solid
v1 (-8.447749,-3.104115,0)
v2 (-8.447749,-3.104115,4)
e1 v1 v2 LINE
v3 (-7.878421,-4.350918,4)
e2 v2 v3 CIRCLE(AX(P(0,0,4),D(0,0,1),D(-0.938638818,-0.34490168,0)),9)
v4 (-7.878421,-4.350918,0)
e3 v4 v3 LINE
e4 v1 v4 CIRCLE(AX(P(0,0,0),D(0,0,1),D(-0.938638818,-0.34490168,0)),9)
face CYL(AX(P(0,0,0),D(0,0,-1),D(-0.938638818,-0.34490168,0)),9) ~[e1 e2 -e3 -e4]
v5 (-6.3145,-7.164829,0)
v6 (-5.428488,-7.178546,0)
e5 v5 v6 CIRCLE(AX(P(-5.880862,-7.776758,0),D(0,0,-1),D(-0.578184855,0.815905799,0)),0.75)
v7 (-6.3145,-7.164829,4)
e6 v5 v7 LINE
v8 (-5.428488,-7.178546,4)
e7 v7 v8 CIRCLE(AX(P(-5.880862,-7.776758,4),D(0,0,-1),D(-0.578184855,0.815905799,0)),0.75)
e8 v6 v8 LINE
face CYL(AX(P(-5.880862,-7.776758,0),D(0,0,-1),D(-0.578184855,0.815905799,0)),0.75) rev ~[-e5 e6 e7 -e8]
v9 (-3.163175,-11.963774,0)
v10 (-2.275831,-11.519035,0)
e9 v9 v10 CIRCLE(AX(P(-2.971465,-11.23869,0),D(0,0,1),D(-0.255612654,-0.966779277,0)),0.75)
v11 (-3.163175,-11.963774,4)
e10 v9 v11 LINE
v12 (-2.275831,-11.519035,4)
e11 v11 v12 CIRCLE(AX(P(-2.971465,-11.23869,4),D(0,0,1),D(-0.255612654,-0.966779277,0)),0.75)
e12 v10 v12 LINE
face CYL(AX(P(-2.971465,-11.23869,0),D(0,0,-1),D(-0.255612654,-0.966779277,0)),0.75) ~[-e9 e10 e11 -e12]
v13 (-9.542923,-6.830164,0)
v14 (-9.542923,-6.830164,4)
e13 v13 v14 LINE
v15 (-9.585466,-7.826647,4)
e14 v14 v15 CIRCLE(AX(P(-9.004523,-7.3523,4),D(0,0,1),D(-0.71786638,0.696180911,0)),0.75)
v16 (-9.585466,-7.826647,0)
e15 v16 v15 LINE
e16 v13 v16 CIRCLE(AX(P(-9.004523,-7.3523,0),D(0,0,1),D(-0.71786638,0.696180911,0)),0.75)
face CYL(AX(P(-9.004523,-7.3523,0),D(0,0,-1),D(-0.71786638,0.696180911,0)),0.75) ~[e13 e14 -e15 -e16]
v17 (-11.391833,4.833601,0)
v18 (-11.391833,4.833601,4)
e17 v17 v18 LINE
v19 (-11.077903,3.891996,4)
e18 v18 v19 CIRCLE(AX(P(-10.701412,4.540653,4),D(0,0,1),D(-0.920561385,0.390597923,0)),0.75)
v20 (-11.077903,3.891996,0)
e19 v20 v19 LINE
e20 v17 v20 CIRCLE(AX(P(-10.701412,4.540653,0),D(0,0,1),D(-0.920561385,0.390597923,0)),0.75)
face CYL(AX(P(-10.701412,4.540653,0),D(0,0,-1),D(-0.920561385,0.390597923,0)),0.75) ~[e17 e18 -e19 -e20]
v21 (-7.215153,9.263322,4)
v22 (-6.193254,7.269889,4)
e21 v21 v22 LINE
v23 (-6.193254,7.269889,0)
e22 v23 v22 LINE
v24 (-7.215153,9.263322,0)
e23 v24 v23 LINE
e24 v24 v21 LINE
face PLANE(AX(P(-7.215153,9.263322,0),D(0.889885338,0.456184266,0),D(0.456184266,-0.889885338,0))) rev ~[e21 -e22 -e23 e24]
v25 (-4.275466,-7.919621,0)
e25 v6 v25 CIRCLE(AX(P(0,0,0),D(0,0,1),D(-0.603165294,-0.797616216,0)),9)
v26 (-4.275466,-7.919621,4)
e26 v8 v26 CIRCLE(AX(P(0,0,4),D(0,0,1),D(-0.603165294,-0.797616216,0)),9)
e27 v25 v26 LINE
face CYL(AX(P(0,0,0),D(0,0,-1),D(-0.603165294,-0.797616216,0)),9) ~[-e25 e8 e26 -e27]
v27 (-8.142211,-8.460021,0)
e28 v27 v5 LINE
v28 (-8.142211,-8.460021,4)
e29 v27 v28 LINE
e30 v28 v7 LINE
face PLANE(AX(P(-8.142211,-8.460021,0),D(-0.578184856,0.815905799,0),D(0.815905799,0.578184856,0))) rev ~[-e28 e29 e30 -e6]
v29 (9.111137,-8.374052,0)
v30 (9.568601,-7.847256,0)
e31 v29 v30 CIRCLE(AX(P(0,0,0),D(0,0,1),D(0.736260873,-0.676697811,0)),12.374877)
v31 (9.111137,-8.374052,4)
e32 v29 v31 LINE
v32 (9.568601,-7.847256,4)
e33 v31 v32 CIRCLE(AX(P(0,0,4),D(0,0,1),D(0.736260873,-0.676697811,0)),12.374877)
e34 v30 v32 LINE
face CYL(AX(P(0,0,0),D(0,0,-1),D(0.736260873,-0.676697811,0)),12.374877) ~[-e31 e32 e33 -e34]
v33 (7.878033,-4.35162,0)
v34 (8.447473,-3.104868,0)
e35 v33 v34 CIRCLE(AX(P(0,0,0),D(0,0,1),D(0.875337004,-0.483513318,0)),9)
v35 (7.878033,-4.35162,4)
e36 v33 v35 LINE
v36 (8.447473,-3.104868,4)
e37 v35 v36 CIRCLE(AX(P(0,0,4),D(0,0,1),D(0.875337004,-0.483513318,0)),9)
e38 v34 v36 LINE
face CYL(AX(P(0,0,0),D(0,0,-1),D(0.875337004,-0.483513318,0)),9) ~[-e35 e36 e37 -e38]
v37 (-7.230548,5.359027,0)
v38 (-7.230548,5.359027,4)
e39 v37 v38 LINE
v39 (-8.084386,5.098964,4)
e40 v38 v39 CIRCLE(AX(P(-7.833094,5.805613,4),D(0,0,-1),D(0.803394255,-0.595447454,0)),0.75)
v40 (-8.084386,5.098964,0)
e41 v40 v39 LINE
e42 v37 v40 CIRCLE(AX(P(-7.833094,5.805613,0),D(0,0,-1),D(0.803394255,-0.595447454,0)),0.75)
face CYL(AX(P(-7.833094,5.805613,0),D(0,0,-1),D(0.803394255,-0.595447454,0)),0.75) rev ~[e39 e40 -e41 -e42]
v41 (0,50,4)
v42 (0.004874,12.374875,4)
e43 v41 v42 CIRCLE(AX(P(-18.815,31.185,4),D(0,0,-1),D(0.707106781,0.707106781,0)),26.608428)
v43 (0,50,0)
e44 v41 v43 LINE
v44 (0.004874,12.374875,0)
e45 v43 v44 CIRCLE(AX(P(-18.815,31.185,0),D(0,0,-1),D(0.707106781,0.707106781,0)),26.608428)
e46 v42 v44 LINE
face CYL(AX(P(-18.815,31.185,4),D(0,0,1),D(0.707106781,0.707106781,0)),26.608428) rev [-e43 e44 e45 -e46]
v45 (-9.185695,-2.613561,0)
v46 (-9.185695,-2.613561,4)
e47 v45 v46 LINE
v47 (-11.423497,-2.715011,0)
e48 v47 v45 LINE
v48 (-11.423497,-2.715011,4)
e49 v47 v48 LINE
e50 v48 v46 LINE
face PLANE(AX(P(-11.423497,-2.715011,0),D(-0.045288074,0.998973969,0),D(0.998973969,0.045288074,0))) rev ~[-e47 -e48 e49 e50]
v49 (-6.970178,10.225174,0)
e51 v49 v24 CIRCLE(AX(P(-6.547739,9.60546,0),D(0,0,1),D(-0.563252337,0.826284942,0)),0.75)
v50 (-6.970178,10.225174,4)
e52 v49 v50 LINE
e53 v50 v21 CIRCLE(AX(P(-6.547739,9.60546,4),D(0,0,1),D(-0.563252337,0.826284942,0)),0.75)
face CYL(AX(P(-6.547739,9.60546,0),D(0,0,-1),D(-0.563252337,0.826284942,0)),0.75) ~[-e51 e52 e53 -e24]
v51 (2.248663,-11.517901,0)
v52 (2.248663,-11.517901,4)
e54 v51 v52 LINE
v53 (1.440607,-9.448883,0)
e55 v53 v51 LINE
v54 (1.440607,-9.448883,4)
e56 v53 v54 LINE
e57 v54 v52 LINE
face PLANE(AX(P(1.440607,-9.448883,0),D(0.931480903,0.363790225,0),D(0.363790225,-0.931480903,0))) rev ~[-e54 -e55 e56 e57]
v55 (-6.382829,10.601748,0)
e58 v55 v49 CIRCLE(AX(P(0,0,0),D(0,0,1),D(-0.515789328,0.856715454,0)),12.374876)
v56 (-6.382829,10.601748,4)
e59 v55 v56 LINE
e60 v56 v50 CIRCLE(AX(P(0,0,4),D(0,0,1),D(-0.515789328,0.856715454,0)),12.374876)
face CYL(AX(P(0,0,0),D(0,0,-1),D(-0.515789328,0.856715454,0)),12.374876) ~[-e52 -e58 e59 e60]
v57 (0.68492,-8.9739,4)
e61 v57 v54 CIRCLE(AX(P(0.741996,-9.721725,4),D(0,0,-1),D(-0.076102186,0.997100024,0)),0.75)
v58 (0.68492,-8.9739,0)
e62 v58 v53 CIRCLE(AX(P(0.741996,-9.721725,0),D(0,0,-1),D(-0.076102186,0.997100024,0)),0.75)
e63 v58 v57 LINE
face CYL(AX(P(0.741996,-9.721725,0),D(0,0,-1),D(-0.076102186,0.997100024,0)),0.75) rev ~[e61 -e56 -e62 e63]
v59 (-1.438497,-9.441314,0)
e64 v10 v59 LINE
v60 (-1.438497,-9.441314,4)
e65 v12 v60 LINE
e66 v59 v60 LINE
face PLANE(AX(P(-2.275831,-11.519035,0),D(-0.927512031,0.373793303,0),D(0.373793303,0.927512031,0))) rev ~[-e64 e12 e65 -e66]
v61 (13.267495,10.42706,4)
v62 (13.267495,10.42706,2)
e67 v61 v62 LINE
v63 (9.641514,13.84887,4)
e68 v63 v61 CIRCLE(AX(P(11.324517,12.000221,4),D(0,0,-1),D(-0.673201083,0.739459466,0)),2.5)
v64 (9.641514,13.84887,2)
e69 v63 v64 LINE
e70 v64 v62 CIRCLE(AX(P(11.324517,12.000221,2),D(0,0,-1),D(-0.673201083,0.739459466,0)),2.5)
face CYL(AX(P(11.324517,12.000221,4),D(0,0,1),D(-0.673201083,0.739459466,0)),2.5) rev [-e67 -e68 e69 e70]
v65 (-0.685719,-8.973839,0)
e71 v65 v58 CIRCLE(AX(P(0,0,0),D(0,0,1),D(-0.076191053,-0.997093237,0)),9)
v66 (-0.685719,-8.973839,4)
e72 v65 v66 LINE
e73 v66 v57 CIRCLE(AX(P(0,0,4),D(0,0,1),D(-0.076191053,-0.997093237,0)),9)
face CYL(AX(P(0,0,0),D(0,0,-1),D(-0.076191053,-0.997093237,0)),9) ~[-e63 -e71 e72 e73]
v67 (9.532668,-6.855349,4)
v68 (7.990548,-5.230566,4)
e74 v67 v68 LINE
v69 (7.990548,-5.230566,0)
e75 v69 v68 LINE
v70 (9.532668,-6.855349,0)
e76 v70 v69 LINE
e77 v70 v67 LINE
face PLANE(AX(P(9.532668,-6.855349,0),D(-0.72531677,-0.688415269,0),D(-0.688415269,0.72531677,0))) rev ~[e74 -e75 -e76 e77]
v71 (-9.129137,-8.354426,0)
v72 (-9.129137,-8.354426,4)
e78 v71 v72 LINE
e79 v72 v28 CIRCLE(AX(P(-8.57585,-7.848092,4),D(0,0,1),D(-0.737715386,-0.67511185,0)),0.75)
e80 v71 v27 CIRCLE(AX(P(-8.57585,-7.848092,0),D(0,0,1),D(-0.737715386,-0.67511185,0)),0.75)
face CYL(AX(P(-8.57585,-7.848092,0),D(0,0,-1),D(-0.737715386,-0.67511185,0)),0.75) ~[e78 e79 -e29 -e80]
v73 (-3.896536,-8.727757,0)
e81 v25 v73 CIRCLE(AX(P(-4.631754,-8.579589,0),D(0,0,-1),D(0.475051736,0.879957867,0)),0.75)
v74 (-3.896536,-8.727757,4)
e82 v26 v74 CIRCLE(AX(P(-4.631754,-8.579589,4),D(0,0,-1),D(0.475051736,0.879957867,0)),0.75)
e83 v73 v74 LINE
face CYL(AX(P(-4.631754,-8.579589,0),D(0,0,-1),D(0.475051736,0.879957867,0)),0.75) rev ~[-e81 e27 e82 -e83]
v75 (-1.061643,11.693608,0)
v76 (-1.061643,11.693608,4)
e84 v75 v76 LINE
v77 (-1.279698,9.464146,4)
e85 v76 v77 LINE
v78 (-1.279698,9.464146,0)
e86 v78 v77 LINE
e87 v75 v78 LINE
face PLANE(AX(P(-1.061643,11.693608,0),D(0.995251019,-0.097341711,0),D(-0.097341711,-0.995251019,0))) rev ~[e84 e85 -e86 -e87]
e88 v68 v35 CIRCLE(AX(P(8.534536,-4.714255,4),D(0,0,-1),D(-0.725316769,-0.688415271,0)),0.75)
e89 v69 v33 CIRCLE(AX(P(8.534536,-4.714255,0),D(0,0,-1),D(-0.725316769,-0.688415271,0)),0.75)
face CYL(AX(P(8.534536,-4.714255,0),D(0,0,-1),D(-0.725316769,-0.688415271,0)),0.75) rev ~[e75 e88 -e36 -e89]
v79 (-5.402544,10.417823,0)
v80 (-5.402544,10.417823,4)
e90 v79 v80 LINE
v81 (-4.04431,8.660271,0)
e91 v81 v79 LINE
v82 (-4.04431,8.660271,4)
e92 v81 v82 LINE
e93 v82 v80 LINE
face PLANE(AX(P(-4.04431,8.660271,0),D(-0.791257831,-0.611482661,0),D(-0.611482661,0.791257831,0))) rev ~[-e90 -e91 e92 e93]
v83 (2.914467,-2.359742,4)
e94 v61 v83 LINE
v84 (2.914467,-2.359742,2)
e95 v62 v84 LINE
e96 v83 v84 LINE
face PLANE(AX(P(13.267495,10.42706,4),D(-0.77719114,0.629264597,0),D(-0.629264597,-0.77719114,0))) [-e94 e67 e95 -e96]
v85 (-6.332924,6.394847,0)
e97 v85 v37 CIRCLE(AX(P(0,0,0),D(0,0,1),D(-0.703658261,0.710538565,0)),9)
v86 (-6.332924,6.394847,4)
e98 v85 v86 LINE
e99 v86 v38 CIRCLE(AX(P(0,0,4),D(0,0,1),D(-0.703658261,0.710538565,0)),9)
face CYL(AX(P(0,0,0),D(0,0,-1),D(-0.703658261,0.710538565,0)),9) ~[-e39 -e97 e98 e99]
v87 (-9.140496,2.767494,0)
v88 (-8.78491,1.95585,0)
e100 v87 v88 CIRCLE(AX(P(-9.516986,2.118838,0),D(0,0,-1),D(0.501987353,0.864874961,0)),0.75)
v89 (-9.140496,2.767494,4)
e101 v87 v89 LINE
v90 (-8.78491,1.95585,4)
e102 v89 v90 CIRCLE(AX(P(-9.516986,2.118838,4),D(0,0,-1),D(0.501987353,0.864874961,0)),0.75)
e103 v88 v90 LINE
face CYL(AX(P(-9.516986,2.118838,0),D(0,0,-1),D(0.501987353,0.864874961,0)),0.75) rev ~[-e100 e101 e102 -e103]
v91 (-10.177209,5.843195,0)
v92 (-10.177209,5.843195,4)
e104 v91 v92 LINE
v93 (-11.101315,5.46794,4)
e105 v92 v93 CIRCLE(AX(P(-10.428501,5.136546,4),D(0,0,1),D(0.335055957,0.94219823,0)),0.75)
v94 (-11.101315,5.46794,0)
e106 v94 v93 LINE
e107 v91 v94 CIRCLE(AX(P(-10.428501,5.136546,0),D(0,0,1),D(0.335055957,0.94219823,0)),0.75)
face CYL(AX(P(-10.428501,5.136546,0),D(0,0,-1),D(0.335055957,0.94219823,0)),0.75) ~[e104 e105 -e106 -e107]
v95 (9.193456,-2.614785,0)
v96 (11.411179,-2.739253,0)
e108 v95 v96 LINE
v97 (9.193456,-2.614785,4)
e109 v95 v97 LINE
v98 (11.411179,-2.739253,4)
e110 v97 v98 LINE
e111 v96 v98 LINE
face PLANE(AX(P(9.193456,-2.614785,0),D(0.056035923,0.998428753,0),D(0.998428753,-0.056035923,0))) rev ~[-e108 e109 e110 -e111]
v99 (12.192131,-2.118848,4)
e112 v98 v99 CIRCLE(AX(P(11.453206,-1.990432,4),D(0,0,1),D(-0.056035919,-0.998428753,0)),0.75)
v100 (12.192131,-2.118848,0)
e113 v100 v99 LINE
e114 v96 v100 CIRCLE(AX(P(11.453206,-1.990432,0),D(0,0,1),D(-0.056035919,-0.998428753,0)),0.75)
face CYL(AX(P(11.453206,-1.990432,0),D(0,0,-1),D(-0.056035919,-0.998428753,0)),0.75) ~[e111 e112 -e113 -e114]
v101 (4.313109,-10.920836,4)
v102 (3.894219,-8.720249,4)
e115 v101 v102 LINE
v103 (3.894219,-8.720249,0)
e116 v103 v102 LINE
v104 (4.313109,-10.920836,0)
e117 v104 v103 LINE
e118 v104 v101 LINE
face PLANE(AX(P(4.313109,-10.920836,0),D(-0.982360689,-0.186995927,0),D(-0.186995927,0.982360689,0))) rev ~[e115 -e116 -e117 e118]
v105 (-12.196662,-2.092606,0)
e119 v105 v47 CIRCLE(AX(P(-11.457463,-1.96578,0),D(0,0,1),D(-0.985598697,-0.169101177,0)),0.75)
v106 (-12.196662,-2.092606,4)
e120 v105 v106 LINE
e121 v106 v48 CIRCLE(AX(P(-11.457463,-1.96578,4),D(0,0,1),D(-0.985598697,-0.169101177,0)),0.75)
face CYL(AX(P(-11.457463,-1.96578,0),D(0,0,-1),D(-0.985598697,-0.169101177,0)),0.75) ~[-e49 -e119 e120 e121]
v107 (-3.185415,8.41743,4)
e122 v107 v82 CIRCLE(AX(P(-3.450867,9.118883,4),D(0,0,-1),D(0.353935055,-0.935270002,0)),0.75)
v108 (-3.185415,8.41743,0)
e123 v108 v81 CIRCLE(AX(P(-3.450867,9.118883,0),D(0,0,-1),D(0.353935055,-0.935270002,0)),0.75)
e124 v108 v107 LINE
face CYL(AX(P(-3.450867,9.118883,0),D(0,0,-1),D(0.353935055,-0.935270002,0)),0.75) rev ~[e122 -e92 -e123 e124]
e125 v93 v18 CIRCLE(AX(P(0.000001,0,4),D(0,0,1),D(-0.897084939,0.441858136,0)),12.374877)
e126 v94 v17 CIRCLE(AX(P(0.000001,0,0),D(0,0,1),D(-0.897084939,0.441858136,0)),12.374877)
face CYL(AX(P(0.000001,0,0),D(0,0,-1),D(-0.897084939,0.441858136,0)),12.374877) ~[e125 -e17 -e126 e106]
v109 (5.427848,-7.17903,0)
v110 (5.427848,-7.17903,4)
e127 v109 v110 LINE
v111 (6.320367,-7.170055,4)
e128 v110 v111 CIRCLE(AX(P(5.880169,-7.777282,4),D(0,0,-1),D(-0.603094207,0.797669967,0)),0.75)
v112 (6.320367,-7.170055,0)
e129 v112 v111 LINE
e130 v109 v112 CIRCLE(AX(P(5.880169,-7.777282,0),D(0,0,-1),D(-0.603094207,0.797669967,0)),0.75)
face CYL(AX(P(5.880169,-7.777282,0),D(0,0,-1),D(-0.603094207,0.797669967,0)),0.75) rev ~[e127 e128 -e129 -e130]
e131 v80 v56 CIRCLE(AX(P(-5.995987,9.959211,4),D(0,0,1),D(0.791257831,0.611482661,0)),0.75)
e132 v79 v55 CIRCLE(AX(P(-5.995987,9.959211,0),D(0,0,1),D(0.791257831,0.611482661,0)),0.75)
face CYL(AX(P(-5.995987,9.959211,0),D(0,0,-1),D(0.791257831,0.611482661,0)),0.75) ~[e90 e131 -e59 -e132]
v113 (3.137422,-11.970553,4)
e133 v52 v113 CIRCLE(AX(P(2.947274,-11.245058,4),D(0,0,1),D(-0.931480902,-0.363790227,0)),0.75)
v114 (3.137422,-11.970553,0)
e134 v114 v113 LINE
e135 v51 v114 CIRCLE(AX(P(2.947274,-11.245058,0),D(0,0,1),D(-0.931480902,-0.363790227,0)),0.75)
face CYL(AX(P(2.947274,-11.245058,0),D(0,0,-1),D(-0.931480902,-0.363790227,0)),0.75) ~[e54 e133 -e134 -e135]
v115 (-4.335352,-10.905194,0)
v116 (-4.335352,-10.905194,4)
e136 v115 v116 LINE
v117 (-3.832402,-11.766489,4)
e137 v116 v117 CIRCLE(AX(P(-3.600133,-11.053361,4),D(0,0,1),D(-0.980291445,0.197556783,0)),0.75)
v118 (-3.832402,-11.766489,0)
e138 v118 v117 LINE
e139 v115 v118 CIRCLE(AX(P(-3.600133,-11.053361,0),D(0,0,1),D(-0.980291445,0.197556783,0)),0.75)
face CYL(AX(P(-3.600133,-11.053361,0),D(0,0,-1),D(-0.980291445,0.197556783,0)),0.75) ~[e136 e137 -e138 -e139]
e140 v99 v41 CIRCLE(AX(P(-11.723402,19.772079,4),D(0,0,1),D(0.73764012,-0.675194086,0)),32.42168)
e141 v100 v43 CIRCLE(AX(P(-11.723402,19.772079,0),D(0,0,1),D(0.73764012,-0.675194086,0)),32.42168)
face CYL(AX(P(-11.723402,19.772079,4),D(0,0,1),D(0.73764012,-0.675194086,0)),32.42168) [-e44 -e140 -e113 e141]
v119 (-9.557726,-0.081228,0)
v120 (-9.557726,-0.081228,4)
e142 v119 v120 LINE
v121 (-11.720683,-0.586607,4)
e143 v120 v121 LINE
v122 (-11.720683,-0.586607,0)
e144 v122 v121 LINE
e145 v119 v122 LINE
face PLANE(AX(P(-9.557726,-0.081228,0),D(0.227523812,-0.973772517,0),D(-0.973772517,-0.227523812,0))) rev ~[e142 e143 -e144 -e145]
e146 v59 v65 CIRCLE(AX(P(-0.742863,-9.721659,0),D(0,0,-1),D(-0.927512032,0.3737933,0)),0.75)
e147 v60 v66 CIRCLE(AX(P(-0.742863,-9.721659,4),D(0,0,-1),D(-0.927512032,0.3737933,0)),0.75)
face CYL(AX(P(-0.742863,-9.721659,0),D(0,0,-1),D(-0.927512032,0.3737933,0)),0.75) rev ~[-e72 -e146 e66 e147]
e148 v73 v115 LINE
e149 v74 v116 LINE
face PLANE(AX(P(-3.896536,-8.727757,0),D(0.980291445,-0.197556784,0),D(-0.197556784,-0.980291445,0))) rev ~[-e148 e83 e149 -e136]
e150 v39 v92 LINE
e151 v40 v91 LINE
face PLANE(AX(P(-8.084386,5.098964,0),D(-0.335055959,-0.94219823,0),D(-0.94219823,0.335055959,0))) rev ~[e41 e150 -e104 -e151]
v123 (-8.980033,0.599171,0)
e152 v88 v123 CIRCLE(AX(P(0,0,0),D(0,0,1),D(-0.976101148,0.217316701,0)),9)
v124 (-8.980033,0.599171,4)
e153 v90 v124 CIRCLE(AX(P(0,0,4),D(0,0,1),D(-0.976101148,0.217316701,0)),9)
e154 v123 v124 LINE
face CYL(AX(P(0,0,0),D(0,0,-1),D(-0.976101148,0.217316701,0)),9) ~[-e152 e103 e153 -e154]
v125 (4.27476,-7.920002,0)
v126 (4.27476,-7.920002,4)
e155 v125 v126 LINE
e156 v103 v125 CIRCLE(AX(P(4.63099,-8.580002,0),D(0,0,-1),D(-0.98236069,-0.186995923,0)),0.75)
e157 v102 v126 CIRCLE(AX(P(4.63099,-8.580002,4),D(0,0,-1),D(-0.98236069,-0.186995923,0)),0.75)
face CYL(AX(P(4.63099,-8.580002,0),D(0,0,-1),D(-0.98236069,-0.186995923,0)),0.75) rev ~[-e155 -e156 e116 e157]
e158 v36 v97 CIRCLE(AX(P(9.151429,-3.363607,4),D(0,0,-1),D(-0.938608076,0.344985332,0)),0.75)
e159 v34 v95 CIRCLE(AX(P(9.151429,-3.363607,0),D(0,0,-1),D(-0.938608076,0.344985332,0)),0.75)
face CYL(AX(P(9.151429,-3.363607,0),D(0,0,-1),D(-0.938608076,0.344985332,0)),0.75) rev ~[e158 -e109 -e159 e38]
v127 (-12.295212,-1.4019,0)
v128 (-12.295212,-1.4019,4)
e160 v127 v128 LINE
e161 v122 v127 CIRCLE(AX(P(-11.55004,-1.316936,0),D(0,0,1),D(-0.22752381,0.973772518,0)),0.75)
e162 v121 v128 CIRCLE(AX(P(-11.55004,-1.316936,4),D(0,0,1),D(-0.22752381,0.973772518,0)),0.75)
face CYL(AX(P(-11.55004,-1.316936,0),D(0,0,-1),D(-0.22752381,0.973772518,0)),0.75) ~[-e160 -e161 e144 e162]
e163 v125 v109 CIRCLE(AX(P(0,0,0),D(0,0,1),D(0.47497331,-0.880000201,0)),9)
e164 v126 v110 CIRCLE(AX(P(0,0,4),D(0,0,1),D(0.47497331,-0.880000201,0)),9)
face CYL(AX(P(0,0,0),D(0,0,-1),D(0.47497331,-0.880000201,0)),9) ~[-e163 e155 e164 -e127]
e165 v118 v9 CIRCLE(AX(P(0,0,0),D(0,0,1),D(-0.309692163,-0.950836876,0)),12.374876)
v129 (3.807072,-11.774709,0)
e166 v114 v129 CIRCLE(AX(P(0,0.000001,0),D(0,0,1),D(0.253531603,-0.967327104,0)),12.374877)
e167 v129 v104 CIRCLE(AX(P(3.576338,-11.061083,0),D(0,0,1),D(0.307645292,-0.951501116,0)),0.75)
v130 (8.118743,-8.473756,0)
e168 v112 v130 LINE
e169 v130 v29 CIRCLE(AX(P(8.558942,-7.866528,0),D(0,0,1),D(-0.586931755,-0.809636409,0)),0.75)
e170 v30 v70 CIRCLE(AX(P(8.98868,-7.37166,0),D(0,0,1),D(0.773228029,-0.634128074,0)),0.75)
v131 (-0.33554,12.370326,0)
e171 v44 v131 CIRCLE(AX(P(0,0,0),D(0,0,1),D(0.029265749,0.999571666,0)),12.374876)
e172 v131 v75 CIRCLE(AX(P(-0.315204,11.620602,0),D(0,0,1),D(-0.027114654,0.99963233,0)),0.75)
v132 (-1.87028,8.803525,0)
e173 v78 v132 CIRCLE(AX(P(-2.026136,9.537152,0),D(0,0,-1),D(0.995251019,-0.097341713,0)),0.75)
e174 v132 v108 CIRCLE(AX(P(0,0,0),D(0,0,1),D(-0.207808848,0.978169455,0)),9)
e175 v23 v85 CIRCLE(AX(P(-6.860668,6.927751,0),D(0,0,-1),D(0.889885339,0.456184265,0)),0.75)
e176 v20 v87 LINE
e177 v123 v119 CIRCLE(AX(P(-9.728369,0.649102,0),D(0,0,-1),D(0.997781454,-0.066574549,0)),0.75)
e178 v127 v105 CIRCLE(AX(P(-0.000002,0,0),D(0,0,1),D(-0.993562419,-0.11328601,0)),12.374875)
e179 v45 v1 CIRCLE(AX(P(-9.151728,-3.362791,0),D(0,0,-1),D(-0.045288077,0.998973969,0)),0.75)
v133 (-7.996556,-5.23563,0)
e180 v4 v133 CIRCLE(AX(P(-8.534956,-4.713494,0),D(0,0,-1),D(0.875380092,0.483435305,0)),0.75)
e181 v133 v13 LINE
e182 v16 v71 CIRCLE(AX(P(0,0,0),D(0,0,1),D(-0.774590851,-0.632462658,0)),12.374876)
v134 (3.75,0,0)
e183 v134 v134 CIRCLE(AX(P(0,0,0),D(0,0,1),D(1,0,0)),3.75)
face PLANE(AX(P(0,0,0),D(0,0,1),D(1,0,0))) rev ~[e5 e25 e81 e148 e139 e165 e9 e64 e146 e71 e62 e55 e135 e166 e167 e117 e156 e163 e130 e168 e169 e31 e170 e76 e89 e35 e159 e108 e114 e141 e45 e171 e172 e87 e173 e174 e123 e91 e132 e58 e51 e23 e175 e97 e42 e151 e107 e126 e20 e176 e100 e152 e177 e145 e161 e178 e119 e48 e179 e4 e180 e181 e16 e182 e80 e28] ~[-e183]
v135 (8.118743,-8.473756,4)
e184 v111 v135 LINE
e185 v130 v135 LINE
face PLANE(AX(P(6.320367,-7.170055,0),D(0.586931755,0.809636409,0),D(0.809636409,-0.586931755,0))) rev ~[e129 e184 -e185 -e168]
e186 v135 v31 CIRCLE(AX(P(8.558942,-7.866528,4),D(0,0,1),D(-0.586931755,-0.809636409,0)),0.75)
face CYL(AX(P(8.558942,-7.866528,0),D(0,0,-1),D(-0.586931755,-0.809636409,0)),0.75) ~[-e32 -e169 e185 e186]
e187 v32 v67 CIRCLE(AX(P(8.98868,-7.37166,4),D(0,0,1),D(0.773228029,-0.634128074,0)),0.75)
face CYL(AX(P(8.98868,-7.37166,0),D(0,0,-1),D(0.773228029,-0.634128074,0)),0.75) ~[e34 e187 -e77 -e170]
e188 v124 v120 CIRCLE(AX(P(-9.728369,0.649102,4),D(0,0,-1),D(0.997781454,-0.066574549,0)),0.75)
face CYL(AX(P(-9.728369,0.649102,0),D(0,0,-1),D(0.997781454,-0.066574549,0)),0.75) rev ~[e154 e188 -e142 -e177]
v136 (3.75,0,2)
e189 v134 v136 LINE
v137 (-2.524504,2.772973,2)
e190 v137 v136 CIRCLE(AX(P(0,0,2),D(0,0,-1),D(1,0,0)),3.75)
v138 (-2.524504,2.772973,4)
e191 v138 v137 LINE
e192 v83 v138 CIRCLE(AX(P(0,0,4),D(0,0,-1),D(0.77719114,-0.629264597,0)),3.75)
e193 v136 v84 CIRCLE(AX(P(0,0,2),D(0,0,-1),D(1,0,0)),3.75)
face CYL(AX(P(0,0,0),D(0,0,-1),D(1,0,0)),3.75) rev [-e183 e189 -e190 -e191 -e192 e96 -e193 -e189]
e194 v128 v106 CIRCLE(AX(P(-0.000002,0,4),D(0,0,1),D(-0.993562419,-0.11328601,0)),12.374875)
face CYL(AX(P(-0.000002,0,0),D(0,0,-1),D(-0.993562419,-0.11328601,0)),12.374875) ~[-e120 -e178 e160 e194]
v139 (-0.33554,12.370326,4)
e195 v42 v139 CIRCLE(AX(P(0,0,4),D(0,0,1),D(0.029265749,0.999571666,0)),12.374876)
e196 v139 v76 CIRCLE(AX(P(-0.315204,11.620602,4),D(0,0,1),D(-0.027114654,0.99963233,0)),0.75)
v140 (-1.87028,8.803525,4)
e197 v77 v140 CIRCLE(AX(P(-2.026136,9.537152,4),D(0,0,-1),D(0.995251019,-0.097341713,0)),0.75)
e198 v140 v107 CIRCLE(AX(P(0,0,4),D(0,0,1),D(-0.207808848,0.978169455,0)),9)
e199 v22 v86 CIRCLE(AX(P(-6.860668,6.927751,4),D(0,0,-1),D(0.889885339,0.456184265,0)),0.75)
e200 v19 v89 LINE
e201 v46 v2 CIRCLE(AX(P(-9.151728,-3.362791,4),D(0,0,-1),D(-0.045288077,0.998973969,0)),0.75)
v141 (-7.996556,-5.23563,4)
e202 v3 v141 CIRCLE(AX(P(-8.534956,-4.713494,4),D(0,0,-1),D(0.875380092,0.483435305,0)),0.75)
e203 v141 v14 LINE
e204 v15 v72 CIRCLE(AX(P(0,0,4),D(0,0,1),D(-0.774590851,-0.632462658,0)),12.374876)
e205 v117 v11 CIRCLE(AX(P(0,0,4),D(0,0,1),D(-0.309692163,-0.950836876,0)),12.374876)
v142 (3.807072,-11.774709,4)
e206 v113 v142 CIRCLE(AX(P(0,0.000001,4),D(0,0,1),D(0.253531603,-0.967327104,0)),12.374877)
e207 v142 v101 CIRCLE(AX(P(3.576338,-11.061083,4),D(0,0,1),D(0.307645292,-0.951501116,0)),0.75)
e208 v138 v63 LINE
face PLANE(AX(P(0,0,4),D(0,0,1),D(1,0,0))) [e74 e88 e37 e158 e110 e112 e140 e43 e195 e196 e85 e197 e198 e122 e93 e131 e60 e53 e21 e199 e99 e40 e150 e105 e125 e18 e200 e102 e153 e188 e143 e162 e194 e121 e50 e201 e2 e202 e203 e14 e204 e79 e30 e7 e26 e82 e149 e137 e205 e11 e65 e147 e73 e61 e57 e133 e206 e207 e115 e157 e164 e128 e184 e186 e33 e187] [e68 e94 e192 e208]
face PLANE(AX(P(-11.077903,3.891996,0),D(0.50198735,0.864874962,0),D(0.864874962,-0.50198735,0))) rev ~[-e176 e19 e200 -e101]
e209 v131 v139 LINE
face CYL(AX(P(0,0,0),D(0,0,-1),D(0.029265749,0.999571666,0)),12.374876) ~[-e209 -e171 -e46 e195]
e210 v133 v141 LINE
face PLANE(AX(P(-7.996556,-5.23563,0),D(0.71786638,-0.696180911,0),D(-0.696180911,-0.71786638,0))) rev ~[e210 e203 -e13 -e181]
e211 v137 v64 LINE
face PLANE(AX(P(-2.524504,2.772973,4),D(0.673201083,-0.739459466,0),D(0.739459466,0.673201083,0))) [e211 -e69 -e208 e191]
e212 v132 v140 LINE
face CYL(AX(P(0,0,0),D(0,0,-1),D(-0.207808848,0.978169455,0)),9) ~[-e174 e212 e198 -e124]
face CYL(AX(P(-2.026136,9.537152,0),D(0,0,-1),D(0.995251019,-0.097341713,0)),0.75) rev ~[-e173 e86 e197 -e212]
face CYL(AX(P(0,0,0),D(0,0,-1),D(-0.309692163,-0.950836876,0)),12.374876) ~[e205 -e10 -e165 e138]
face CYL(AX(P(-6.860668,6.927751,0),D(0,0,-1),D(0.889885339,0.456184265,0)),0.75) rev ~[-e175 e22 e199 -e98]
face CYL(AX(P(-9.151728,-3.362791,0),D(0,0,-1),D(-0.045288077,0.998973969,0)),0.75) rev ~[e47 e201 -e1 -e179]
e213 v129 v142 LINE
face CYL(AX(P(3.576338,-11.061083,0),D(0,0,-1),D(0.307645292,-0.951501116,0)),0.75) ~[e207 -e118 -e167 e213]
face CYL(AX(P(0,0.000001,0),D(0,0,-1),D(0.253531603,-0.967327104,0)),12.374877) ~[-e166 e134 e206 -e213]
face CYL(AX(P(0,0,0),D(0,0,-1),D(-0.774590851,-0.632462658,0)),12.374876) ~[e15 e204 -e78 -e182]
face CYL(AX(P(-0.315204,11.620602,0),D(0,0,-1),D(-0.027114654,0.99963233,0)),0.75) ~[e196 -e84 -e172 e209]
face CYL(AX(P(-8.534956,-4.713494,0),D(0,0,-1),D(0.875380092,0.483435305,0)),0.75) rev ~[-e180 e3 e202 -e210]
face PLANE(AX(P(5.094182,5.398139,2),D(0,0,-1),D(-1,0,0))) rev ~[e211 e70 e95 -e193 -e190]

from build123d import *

# Parameters (mm, degrees)
ESBO_O1_R                = 3.75
RESSALTO_EXTRUS_O1_DEPTH = 4
RESSALTO_EXTRUS_O2_START = -4
RESSALTO_EXTRUS_O2_DEPTH = 4
CORTE_EXTRUS_O1_START    = -2
CORTE_EXTRUS_O1_DEPTH    = 2


with BuildPart() as part:
    # Esboço1 → Ressalto-extrusão1 (new body)
    with BuildSketch(Plane.XY):
        with BuildLine():
            Line((5.428931338, 10.411256864), (4.040153116, 8.653603149))
            ThreePointArc((4.040153116, 8.653603149), (3.651813796, 8.395770502), (3.186165661, 8.417146095))
            ThreePointArc((3.186165661, 8.417146095), (2.535977815, 8.635323765), (1.871064211, 8.803358377))
            ThreePointArc((1.871064211, 8.803358377), (1.465141223, 9.040151498), (1.27980553, 9.472002324))
            Line((1.27980553, 9.472002324), (1.087391415, 11.684866251))
            ThreePointArc((1.087391415, 11.684866251), (0.855086446, 12.165243662), (0.362160028, 12.369575749))
            ThreePointArc((0.362160028, 12.369575749), (0.013315066, 12.374869163), (-0.335540479, 12.370326458))
            ThreePointArc((-0.335540479, 12.370326458), (-0.826548297, 12.16926195), (-1.061642754, 11.693608494))
            Line((-1.061642754, 11.693608494), (-1.279697998, 9.464145904))
            ThreePointArc((-1.279697998, 9.464145904), (-1.466994971, 9.037291191), (-1.870279627, 8.803525096))
            ThreePointArc((-1.870279627, 8.803525096), (-2.535208203, 8.635549743), (-3.185415492, 8.41743002))
            ThreePointArc((-3.185415492, 8.41743002), (-3.654919666, 8.397174533), (-4.044310156, 8.660270526))
            Line((-4.044310156, 8.660270526), (-5.402543773, 10.417823198))
            ThreePointArc((-5.402543773, 10.417823198), (-5.857682784, 10.696348844), (-6.382829142, 10.601747792))
            ThreePointArc((-6.382829142, 10.601747792), (-6.679158034, 10.41760107), (-6.970178022, 10.225173956))
            ThreePointArc((-6.970178022, 10.225173956), (-7.274536404, 9.790568861), (-7.215152773, 9.263322051))
            Line((-7.215152773, 9.263322051), (-6.19325404, 7.269889205))
            ThreePointArc((-6.19325404, 7.269889205), (-6.120043199, 6.809535782), (-6.332924348, 6.394847082))
            ThreePointArc((-6.332924348, 6.394847082), (-6.80148353, 5.894049694), (-7.230548283, 5.359027107))
            ThreePointArc((-7.230548283, 5.359027107), (-7.614569385, 5.088153986), (-8.084385943, 5.098964027))
            Line((-8.084385943, 5.098964027), (-10.177209485, 5.843194888))
            ThreePointArc((-10.177209485, 5.843194888), (-10.710679119, 5.831438844), (-11.101315158, 5.46793982))
            ThreePointArc((-11.101315158, 5.46793982), (-11.251045651, 5.152818244), (-11.391833292, 4.833600971))
            ThreePointArc((-11.391833292, 4.833600971), (-11.412910602, 4.303439334), (-11.077902766, 3.891996308))
            Line((-11.077902766, 3.891996308), (-9.140495683, 2.76749405))
            ThreePointArc((-9.140495683, 2.76749405), (-8.830020954, 2.419800875), (-8.784910335, 1.955850303))
            ThreePointArc((-8.784910335, 1.955850303), (-8.908335893, 1.281230512), (-8.980033083, 0.599170952))
            ThreePointArc((-8.980033083, 0.599170952), (-9.156647127, 0.163680499), (-9.557726315, -0.081227523))
            Line((-9.557726315, -0.081227523), (-11.720683094, -0.586606513))
            ThreePointArc((-11.720683094, -0.586606513), (-12.163110512, -0.884911785), (-12.295212049, -1.401900411))
            ThreePointArc((-12.295212049, -1.401900411), (-12.25080577, -1.747947966), (-12.196661982, -2.09260617))
            ThreePointArc((-12.196661982, -2.09260617), (-11.927766323, -2.550001774), (-11.423496904, -2.715010763))
            Line((-11.423496904, -2.715010763), (-9.185694531, -2.613560912))
            ThreePointArc((-9.185694531, -2.613560912), (-8.736529446, -2.738203711), (-8.447749362, -3.104115127))
            ThreePointArc((-8.447749362, -3.104115127), (-8.186854553, -3.738370305), (-7.878420829, -4.350917747))
            ThreePointArc((-7.878420829, -4.350917747), (-7.791554103, -4.812760389), (-7.996556113, -5.235629909))
            Line((-7.996556113, -5.235629909), (-9.542922635, -6.83016449))
            ThreePointArc((-9.542922635, -6.83016449), (-9.753840257, -7.320309176), (-9.585465989, -7.826647167))
            ThreePointArc((-9.585465989, -7.826647167), (-9.361021617, -8.093753047), (-9.129136671, -8.354425638))
            ThreePointArc((-9.129136671, -8.354425638), (-8.655640515, -8.593835336), (-8.142211489, -8.4600211))
            Line((-8.142211489, -8.4600211), (-6.314500268, -7.16482875))
            ThreePointArc((-6.314500268, -7.16482875), (-5.869251568, -7.026847967), (-5.428487655, -7.178545938))
            ThreePointArc((-5.428487655, -7.178545938), (-4.866104738, -7.571064963), (-4.275465628, -7.919620803))
            ThreePointArc((-4.275465628, -7.919620803), (-3.952697704, -8.26118386), (-3.896535847, -8.727756791))
            Line((-3.896535847, -8.727756791), (-4.335351667, -10.905193502))
            ThreePointArc((-4.335351667, -10.905193502), (-4.247794638, -11.431560125), (-3.832402205, -11.766488747))
            ThreePointArc((-3.832402205, -11.766488747), (-3.499179242, -11.869848724), (-3.16317497, -11.963773995))
            ThreePointArc((-3.16317497, -11.963773995), (-2.635410001, -11.909186901), (-2.275831457, -11.519034514))
            Line((-2.275831457, -11.519034514), (-1.438496786, -9.441314085))
            ThreePointArc((-1.438496786, -9.441314085), (-1.138527788, -9.084517642), (-0.685719474, -8.973839134))
            ThreePointArc((-0.685719474, -8.973839134), (-0.000401051, -8.999999991), (0.684919701, -8.973900211))
            ThreePointArc((0.684919701, -8.973900211), (1.141112287, -9.086739826), (1.440607019, -9.44888256))
            Line((1.440607019, -9.44888256), (2.248662823, -11.517900629))
            ThreePointArc((2.248662823, -11.517900629), (2.606895765, -11.913371507), (3.137422201, -11.970553289))
            ThreePointArc((3.137422201, -11.970553289), (3.473627818, -11.877351299), (3.807072434, -11.774708641))
            ThreePointArc((3.807072434, -11.774708641), (4.221544568, -11.44345577), (4.313108983, -10.920835859))
            Line((4.313108983, -10.920835859), (3.894219261, -8.720248907))
            ThreePointArc((3.894219261, -8.720248907), (3.953670521, -8.257917155), (4.274759795, -7.920001811))
            ThreePointArc((4.274759795, -7.920001811), (4.865429967, -7.571498612), (5.427847864, -7.179029709))
            ThreePointArc((5.427847864, -7.179029709), (5.87262719, -7.0273201), (6.320367336, -7.170054878))
            Line((6.320367336, -7.170054878), (8.118742756, -8.473755688))
            ThreePointArc((8.118742756, -8.473755688), (8.633915182, -8.612771611), (9.111137226, -8.374051741))
            ThreePointArc((9.111137226, -8.374051741), (9.343582589, -8.113878758), (9.56860124, -7.847256489))
            ThreePointArc((9.56860124, -7.847256489), (9.738188564, -7.344508289), (9.532667795, -6.855348982))
            Line((9.532667795, -6.855348982), (7.990548209, -5.230566315))
            ThreePointArc((7.990548209, -5.230566315), (7.790606374, -4.809486318), (7.878033033, -4.351619874))
            ThreePointArc((7.878033033, -4.351619874), (8.186521347, -3.739099922), (8.447472682, -3.104867999))
            ThreePointArc((8.447472682, -3.104867999), (8.739624454, -2.736775896), (9.19345568, -2.614785434))
            Line((9.19345568, -2.614785434), (11.411179228, -2.739253189))
            ThreePointArc((11.411179228, -2.739253189), (11.919727533, -2.577677583), (12.192130558, -2.118847933))
            ThreePointArc((12.192130558, -2.118847933), (12.247015907, -1.774307042), (12.292166761, -1.428355848))
            ThreePointArc((12.292166761, -1.428355848), (12.163026498, -0.913731319), (11.725671937, -0.61333724))
            Line((11.725671937, -0.61333724), (9.549934558, -0.080215876))
            ThreePointArc((9.549934558, -0.080215876), (9.15407975, 0.165922443), (8.980086447, 0.598370627))
            ThreePointArc((8.980086447, 0.598370627), (8.908450044, 1.280436574), (8.78508461, 1.955067363))
            ThreePointArc((8.78508461, 1.955067363), (8.831852706, 2.422675318), (9.147686805, 2.77065991))
            Line((9.147686805, 2.77065991), (11.080646922, 3.864942843))
            ThreePointArc((11.080646922, 3.864942843), (11.421110614, 4.275810864), (11.402208583, 4.809075122))
            ThreePointArc((11.402208583, 4.809075122), (11.262108208, 5.128594624), (11.113056187, 5.444037682))
            ThreePointArc((11.113056187, 5.444037682), (10.726189458, 5.807148888), (10.195858089, 5.823404741))
            Line((10.195858089, 5.823404741), (8.077284162, 5.095602537))
            ThreePointArc((8.077284162, 5.095602537), (7.611197484, 5.088652), (7.231025864, 5.358382681))
            ThreePointArc((7.231025864, 5.358382681), (6.802008795, 5.893443506), (6.333494247, 6.394282651))
            ThreePointArc((6.333494247, 6.394282651), (6.120030126, 6.812944237), (6.197592003, 7.27644031))
            Line((6.197592003, 7.27644031), (7.232087511, 9.242046831))
            ThreePointArc((7.232087511, 9.242046831), (7.296371772, 9.771759573), (6.992165948, 10.210150805))
            ThreePointArc((6.992165948, 10.210150805), (6.701560727, 10.403203734), (6.405628795, 10.587987714))
            ThreePointArc((6.405628795, 10.587987714), (5.883863054, 10.684300355), (5.428931338, 10.411256864))
        make_face()
        Circle(ESBO_O1_R, mode=Mode.SUBTRACT)
    extrude(amount=RESSALTO_EXTRUS_O1_DEPTH)

    # Esboço6 → Ressalto-extrusão2 (add)
    with BuildSketch(Plane.XY.offset(4).offset(RESSALTO_EXTRUS_O2_START)):
        with BuildLine():
            Line((0, 12.37), (0, 9))
            ThreePointArc((0, 9), (6.887269468, 5.79357569), (8.867092658, -1.540995716))
            Line((8.867092658, -1.540995716), (12.192130558, -2.118847933))
            ThreePointArc((12.192130558, -2.118847933), (19.845997755, 27.157089417), (0, 50))
            ThreePointArc((0, 50), (7.793428176, 31.185), (0, 12.37))
        make_face()
    extrude(amount=RESSALTO_EXTRUS_O2_DEPTH)

    # Esboço7 → Corte-extrusão1 (cut)
    with BuildSketch(Plane.XY.offset(4).offset(CORTE_EXTRUS_O1_START)):
        with BuildLine():
            Line((-2.524504061, 2.772972998), (9.641514463, 13.848869949))
            ThreePointArc((9.641514463, 13.848869949), (13.040353105, 13.81843663), (13.267495019, 10.427059792))
            Line((13.267495019, 10.427059792), (2.914466774, -2.359742237))
            ThreePointArc((2.914466774, -2.359742237), (-2.573753902, -2.727323019), (-2.524504061, 2.772972998))
        make_face()
    extrude(amount=CORTE_EXTRUS_O1_DEPTH, mode=Mode.SUBTRACT)


solid = part.part
